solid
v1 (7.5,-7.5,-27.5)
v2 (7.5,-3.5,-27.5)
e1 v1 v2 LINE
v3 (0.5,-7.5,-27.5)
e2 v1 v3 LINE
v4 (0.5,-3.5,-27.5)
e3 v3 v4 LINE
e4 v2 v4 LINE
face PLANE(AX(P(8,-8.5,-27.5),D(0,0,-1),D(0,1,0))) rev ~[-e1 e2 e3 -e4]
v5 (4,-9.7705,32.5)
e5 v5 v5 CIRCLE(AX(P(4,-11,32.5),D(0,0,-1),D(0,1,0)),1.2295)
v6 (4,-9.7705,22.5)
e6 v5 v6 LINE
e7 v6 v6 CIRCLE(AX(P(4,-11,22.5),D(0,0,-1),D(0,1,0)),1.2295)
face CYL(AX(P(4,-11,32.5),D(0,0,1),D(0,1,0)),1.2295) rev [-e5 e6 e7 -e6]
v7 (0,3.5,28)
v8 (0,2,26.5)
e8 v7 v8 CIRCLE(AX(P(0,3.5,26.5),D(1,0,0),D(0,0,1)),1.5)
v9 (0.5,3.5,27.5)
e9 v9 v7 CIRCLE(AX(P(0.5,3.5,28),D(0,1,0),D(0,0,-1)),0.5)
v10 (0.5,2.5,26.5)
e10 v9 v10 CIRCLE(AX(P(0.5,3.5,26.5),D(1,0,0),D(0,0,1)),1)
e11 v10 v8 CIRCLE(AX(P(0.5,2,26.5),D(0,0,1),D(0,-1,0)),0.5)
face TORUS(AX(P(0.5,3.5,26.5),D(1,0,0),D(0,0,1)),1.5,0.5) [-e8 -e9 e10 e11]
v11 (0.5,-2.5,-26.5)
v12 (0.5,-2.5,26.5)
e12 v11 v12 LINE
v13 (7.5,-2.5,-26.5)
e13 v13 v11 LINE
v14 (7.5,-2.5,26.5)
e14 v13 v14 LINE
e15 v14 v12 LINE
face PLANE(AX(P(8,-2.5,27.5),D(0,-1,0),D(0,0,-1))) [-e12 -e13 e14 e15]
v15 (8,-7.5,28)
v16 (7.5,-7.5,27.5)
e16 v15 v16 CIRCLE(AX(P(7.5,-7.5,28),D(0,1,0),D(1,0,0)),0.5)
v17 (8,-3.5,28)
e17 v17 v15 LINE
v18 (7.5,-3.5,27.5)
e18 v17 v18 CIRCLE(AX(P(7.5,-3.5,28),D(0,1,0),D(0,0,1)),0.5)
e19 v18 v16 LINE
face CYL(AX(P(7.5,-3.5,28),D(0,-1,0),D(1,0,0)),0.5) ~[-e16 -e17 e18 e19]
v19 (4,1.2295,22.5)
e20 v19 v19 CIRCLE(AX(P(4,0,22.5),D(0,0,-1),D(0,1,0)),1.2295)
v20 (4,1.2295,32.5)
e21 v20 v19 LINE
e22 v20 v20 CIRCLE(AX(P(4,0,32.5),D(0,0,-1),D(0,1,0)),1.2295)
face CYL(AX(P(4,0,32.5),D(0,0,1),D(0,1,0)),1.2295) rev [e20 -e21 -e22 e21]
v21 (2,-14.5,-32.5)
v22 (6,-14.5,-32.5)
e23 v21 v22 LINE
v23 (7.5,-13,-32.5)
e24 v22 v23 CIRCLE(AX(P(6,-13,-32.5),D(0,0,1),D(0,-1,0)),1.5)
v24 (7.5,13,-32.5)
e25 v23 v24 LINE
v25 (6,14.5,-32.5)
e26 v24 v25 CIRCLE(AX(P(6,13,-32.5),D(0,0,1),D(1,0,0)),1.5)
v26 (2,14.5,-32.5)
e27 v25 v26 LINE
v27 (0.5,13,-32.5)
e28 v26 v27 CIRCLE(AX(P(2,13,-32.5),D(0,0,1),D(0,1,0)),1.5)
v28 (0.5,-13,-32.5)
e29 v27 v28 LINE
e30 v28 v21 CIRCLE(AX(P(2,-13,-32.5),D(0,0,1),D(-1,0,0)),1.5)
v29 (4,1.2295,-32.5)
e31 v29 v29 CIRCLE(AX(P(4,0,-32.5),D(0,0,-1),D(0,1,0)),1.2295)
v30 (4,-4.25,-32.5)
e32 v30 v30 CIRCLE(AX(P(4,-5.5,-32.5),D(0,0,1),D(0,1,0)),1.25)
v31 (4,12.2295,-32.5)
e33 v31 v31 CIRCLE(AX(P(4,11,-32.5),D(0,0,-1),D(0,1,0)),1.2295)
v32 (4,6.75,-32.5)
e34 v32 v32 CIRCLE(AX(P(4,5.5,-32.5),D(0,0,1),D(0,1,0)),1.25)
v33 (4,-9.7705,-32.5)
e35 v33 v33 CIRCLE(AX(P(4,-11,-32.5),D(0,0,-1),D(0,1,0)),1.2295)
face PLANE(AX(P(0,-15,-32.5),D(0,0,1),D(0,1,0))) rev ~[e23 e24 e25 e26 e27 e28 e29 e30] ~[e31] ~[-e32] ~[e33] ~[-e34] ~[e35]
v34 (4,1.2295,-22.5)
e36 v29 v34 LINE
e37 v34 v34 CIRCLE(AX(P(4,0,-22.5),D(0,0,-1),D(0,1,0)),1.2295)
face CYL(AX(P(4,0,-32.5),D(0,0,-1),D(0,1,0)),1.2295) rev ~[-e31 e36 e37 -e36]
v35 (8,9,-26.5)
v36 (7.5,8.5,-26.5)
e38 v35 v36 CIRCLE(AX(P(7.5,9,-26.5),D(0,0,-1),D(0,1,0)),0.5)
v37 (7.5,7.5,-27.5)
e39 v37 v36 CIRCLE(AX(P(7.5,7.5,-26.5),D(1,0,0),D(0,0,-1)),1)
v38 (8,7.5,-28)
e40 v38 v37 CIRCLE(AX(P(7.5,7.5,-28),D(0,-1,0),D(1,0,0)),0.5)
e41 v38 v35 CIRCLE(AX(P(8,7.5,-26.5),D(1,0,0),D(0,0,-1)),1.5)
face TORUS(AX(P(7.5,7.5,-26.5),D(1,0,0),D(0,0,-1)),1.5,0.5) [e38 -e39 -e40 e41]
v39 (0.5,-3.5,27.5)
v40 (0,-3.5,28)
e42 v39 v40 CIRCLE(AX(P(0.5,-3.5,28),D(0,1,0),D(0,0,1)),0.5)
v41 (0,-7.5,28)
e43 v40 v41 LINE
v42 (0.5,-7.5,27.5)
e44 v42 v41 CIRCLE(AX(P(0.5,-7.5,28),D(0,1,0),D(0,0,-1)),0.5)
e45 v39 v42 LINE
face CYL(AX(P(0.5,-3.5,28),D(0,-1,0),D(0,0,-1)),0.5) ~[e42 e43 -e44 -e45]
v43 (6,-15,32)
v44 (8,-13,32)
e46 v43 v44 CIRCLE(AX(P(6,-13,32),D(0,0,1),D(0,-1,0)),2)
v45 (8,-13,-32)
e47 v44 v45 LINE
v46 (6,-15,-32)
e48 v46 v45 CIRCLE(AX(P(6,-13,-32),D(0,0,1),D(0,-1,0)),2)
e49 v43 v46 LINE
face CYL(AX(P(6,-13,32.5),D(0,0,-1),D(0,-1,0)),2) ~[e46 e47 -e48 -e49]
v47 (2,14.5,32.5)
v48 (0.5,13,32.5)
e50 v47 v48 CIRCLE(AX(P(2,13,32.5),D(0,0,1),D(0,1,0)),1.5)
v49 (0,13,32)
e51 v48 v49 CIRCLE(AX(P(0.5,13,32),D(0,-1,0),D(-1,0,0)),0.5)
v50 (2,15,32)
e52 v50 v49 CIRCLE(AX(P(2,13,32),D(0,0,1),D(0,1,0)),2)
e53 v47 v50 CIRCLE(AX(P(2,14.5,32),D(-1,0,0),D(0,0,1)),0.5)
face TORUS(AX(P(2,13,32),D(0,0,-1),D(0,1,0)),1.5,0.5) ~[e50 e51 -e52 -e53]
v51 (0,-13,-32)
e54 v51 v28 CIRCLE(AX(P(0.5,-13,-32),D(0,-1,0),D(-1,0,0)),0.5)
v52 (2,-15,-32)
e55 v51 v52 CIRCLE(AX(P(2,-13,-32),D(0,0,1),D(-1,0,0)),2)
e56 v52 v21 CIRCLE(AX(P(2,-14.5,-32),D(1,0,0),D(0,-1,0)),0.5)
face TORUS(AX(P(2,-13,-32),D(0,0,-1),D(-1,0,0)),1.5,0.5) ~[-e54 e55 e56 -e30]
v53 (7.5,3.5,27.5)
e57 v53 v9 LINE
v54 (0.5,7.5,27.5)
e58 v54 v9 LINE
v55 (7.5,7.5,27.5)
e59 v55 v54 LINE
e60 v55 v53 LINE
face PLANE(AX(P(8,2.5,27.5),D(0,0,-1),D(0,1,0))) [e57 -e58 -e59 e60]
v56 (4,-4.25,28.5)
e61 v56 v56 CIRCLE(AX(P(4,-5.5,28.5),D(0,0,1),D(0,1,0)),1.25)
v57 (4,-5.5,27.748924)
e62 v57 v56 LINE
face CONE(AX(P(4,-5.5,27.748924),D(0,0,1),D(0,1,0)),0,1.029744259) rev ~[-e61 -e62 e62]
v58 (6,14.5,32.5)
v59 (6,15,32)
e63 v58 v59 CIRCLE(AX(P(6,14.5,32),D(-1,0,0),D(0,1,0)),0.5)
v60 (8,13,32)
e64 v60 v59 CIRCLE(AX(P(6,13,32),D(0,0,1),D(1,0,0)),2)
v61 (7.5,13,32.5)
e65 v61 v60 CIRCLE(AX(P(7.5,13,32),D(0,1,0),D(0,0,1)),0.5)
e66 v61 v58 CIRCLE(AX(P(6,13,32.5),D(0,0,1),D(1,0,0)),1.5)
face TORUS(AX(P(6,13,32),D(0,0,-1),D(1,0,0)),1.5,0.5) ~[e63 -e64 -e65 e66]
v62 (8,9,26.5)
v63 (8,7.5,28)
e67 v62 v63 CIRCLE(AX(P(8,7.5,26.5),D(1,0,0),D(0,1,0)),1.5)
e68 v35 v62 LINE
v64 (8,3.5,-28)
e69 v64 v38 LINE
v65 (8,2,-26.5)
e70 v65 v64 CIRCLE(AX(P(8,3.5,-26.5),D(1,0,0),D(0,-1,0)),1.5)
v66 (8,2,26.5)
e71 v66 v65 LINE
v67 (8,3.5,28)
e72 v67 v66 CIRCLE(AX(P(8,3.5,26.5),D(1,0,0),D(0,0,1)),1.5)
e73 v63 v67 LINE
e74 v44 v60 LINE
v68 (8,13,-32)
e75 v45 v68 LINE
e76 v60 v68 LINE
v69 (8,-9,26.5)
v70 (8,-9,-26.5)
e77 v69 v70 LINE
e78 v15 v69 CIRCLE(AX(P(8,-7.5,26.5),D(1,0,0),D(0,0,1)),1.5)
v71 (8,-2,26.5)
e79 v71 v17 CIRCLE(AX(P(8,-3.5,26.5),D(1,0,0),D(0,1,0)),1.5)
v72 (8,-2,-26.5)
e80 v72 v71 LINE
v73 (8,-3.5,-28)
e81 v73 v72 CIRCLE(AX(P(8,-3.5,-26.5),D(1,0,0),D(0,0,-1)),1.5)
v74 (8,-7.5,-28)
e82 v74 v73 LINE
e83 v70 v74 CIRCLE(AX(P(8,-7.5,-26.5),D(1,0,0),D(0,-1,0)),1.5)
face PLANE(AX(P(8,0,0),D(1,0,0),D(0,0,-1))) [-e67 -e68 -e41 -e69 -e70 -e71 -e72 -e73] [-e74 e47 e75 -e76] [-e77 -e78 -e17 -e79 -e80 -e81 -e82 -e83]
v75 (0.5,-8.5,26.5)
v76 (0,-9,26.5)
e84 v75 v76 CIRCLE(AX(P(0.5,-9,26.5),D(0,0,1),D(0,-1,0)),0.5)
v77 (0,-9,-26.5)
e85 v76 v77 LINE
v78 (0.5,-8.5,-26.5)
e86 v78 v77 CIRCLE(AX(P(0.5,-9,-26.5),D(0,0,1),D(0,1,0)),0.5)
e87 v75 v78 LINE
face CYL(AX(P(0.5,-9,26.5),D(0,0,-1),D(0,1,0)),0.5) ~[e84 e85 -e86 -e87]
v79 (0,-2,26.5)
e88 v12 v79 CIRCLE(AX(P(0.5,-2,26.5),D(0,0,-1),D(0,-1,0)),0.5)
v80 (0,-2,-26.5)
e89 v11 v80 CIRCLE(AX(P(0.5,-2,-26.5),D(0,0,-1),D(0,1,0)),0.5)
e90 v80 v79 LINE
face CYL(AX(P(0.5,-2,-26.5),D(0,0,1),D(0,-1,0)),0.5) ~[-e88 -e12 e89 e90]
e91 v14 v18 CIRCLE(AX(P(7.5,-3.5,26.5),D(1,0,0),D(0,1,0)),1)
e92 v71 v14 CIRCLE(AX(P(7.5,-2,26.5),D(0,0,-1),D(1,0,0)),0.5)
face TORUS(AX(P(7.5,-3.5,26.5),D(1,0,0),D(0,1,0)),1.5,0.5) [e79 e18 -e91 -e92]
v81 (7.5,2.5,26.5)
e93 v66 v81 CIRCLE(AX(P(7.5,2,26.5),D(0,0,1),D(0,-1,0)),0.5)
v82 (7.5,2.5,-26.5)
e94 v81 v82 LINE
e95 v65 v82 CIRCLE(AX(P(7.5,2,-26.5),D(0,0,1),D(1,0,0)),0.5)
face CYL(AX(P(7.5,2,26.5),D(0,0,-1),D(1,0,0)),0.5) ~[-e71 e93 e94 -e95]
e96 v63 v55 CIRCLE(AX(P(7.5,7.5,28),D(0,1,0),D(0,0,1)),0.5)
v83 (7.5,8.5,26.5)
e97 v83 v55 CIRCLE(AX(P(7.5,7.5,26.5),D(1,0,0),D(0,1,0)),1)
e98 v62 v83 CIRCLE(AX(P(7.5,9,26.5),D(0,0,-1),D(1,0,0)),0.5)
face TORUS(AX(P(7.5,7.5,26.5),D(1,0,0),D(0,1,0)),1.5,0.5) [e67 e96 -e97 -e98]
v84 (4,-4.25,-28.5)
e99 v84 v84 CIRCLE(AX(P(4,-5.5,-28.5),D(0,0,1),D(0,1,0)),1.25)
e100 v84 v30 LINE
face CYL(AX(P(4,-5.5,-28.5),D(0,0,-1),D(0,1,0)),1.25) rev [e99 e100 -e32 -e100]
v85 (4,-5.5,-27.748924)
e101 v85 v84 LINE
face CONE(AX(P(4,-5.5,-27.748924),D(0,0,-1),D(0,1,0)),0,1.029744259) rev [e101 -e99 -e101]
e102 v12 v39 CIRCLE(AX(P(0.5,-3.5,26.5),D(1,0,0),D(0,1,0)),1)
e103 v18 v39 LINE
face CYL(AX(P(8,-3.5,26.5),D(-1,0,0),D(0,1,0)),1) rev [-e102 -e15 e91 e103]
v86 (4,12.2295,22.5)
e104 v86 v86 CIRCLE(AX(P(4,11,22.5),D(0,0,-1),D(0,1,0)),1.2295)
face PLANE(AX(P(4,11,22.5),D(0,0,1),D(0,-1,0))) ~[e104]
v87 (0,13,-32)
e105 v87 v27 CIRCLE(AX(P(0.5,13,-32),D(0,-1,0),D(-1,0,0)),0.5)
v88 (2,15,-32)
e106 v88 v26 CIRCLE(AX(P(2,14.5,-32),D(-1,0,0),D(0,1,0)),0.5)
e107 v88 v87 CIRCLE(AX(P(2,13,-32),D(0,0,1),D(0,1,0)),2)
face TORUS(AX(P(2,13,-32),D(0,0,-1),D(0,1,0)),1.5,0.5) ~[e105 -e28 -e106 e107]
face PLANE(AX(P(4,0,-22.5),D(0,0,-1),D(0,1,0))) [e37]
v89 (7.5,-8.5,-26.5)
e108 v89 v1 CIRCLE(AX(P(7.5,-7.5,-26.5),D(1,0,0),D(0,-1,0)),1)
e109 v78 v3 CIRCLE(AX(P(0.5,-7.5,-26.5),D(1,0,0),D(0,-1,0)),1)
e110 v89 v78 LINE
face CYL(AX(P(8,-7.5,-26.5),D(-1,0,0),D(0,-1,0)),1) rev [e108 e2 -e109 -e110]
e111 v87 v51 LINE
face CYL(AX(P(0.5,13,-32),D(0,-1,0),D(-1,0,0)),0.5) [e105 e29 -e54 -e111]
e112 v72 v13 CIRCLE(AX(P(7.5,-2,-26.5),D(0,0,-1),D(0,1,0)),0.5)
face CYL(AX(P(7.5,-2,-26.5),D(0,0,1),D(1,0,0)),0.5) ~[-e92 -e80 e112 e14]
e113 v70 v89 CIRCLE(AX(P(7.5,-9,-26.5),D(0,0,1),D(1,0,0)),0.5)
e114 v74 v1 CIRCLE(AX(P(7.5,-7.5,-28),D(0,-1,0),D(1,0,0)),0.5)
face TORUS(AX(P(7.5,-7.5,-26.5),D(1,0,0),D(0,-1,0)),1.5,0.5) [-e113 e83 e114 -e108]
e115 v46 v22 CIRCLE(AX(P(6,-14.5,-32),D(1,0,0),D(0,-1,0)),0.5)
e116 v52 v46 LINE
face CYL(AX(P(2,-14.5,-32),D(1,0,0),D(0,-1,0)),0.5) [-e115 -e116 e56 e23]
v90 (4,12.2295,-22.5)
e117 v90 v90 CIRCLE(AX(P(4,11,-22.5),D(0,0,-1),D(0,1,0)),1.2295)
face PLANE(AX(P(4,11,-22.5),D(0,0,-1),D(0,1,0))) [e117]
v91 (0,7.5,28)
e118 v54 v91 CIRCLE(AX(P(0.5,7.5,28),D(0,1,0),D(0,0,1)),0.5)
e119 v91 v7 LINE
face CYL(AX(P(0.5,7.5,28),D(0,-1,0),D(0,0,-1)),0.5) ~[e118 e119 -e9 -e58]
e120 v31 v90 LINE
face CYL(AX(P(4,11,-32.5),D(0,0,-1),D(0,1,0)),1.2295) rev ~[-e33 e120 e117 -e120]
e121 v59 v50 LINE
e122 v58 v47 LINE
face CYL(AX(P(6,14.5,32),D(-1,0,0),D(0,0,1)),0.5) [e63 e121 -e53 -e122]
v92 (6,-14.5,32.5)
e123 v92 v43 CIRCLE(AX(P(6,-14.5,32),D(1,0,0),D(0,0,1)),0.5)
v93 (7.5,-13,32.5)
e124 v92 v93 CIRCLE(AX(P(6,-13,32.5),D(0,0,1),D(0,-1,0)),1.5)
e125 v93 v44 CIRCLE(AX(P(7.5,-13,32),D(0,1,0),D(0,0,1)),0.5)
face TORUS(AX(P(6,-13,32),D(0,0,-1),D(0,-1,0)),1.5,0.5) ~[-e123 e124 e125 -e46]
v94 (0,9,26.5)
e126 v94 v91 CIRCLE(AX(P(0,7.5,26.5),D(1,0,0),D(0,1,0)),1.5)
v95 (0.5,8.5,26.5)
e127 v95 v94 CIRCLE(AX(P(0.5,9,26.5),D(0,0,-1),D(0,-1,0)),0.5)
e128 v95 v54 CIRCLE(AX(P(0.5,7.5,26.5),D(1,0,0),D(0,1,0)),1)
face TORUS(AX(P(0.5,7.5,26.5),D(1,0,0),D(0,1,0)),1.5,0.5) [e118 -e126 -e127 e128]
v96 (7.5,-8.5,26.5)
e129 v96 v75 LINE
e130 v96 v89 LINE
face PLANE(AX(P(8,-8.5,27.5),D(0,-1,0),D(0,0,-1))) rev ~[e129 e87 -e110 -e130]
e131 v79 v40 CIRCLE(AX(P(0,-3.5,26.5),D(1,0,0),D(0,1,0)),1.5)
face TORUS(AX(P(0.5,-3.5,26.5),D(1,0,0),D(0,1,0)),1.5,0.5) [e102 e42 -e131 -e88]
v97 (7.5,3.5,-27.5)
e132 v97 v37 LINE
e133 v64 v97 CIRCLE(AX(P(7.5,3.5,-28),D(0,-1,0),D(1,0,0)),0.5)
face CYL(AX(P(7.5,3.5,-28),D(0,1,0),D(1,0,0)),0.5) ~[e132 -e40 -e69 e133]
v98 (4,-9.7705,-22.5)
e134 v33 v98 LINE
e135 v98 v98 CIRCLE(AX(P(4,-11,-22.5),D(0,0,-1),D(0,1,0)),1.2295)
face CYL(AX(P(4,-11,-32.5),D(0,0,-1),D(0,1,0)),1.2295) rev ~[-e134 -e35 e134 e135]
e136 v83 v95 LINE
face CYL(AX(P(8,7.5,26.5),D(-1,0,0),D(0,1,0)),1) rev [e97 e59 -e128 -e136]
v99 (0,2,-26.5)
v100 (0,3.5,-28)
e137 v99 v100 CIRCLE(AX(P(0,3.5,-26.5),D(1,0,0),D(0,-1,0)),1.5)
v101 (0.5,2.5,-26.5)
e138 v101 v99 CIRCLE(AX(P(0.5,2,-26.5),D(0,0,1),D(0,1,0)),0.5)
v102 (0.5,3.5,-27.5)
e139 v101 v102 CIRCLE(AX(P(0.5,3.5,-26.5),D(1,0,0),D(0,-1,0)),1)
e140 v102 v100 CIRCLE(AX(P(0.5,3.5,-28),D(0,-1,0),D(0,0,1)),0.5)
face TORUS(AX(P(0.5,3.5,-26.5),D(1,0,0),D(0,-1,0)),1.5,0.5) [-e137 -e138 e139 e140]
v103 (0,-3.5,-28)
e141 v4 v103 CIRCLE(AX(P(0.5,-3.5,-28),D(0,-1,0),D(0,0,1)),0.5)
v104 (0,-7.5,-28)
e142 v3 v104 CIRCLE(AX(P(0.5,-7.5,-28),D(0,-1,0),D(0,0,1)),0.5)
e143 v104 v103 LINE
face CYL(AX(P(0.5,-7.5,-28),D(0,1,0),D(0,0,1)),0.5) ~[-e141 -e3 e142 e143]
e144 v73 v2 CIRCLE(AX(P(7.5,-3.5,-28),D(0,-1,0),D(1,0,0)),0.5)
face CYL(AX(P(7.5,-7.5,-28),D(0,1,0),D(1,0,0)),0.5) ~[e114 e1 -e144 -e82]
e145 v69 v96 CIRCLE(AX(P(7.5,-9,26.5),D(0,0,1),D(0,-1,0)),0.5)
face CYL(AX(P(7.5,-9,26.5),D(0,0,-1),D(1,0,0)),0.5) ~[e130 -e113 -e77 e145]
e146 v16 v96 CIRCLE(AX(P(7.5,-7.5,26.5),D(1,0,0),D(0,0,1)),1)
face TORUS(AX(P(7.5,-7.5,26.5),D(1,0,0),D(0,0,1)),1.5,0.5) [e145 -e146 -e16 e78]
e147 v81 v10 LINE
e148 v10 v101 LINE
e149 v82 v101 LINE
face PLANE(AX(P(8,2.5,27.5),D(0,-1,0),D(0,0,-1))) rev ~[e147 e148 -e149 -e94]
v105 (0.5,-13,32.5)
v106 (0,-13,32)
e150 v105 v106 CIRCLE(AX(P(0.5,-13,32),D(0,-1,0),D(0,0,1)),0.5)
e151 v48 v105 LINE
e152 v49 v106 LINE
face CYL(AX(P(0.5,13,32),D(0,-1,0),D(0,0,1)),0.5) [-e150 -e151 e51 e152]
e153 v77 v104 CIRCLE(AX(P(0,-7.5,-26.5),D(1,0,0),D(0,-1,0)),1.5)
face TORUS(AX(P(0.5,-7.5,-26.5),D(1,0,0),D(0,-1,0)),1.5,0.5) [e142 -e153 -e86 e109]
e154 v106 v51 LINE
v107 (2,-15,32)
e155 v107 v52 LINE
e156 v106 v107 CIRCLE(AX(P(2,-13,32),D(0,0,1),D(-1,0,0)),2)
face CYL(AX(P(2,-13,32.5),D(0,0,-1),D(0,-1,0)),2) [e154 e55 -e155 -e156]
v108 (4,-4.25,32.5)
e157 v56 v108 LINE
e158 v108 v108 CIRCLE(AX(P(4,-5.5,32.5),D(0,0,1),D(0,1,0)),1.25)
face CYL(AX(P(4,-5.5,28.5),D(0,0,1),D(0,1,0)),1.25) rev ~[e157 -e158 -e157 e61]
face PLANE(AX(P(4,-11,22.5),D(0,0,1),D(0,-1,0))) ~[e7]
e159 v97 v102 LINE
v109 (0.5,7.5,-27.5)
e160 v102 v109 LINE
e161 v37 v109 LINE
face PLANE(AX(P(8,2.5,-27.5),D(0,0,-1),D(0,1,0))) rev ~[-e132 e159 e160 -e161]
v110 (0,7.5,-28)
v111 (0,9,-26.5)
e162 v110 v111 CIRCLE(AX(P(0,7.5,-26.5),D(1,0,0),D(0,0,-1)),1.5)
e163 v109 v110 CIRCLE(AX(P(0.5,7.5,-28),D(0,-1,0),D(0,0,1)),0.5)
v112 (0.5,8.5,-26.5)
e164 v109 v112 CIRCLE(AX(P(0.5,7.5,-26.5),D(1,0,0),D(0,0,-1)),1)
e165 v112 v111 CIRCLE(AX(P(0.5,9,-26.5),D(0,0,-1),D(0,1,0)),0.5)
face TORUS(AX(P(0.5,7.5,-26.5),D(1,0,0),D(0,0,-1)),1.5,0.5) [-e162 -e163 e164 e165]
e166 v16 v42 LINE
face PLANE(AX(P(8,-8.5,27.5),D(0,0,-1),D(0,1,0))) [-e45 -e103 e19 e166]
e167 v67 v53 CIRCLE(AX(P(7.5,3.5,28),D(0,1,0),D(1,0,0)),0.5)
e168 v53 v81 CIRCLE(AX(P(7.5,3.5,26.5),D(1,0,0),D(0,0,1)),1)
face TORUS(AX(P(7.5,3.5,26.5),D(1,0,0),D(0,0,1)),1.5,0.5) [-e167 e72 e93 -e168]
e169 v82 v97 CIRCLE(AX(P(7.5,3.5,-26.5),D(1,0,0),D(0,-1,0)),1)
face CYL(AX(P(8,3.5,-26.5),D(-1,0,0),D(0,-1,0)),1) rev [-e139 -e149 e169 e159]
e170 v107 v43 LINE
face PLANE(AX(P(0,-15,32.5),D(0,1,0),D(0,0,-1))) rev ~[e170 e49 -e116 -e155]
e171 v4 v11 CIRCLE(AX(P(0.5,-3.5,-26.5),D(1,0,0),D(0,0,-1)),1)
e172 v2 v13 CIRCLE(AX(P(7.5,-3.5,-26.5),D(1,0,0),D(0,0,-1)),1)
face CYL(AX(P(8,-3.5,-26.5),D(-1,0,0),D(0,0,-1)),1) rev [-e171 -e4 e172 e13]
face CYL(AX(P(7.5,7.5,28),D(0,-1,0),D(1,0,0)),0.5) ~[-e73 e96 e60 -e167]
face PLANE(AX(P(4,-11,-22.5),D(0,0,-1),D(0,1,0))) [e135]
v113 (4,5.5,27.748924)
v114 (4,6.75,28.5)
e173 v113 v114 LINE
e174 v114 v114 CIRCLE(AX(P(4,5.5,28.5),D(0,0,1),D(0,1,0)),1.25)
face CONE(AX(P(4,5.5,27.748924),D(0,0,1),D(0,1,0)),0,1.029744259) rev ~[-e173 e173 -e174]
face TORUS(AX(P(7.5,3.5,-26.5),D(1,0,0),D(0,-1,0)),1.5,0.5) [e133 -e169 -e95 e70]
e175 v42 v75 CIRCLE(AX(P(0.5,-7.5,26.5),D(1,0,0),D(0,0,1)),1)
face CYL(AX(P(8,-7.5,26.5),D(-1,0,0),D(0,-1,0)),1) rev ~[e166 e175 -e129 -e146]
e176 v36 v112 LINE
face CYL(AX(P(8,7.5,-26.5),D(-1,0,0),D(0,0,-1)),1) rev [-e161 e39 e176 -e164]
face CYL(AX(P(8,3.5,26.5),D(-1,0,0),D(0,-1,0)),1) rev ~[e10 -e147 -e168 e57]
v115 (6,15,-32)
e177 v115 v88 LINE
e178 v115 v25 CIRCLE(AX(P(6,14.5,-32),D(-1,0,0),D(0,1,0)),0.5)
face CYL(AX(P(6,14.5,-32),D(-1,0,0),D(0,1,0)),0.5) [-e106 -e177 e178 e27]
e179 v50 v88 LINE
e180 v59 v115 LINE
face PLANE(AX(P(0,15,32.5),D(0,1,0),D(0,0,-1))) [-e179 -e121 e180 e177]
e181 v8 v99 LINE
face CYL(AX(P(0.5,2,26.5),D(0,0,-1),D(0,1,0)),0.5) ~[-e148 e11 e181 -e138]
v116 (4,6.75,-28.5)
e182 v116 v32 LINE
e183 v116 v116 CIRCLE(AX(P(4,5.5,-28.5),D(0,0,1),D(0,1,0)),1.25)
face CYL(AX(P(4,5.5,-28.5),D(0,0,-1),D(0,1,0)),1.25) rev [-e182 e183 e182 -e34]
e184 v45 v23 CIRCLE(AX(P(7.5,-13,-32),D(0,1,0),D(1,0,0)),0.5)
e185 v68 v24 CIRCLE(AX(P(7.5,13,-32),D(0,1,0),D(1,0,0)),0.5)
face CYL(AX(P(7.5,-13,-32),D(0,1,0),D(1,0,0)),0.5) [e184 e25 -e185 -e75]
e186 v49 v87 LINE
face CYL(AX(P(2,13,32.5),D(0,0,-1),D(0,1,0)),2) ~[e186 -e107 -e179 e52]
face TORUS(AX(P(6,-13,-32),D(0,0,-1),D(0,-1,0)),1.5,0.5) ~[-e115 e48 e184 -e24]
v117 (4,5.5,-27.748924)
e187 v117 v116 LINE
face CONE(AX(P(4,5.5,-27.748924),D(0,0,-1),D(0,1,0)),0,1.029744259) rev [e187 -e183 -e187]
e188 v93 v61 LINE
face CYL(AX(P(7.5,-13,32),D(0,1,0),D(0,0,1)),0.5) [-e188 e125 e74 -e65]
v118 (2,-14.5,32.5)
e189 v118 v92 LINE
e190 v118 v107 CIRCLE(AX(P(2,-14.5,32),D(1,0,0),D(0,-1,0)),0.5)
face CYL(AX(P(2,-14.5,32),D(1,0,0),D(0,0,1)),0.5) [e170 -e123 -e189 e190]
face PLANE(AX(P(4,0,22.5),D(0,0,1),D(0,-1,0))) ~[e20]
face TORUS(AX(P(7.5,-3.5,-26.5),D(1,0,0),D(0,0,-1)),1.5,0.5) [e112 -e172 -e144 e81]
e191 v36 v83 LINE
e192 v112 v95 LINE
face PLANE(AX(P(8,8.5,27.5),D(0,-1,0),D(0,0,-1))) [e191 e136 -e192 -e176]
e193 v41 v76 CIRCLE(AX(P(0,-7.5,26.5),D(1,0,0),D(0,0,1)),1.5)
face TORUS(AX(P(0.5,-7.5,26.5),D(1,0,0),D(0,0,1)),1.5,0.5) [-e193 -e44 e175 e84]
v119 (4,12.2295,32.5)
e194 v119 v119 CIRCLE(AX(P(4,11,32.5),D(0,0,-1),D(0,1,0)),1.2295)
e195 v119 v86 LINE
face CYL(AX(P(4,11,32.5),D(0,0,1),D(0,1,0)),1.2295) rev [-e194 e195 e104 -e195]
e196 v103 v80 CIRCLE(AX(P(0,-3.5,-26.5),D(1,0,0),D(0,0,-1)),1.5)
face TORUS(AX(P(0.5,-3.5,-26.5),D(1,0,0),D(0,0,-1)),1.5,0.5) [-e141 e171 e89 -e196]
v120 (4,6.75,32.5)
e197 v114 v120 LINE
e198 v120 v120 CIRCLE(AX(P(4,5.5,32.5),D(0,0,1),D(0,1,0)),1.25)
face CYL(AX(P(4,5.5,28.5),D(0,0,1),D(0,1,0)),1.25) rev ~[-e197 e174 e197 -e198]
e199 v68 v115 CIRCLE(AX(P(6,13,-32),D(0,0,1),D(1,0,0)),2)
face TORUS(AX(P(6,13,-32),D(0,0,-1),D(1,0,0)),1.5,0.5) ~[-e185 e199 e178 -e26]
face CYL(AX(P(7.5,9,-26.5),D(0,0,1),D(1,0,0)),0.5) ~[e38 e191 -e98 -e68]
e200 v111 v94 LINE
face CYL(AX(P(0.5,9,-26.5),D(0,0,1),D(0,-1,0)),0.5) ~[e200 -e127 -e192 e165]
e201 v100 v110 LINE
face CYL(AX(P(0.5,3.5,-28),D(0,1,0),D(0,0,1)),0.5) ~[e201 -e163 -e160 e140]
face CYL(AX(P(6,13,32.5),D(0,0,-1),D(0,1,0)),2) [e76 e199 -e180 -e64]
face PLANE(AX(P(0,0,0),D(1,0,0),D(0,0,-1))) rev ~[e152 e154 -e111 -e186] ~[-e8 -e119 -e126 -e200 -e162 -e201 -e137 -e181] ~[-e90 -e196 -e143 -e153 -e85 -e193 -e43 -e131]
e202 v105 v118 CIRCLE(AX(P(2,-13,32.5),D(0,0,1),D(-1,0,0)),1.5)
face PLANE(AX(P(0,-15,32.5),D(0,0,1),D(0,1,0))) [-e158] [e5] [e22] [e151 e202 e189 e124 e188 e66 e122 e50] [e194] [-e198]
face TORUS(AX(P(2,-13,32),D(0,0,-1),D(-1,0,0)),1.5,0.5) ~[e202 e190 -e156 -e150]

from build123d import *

# Parameters (mm, degrees)
SKETCH1_W                      = 65
SKETCH1_H                      = 30
BOSS_EXTRUDE1_DEPTH            = 8
FILLET1_R                      = 2
FILLET2_R                      = 0.5
SKETCH2_R                      = 1.2295
CUT_EXTRUDE1_DEPTH             = 10
SKETCH3_W                      = 55
SKETCH3_H                      = 6
CUT_EXTRUDE2_DEPTH             = 10
FILLET3_R                      = 1
FILLET4_R                      = 0.5
F_2_5MM_DOWEL_HOLE1_AT_2_COUNT = 2
F_2_5MM_DOWEL_HOLE1_AT_2_PITCH = 11


with BuildPart() as part:
    # Sketch1 → Boss-Extrude1 (new body)
    with BuildSketch(Plane(origin=(0, 0, 0), x_dir=(0, 0, -1), z_dir=(1, 0, 0))):
        Rectangle(SKETCH1_W, SKETCH1_H)
    extrude(amount=BOSS_EXTRUDE1_DEPTH)

    # Fillet1
    fillet1_edges = [part.edges().sort_by_distance(p)[0] for p in [
        (8, -15, 0),
        (0, -15, 0),
        (0, 15, 0),
        (8, 15, 0),
    ]]
    fillet(fillet1_edges, radius=FILLET1_R)

    # Fillet2
    fillet2_edges = [part.edges().sort_by_distance(p)[0] for p in [
        (8, 0, -32.5),
        (8, 0, 32.5),
        (0, 0, -32.5),
        (4, 15, -32.5),
        (4, -15, -32.5),
        (7.414213562, 14.414213562, -32.5),
        (0.585786438, 14.414213562, -32.5),
        (0.585786438, -14.414213562, -32.5),
        (7.414213562, -14.414213562, -32.5),
        (4, -15, 32.5),
        (0, 0, 32.5),
        (4, 15, 32.5),
        (7.414213562, 14.414213562, 32.5),
        (0.585786438, 14.414213562, 32.5),
        (0.585786438, -14.414213562, 32.5),
        (7.414213562, -14.414213562, 32.5),
    ]]
    fillet(fillet2_edges, radius=FILLET2_R)

    # Sketch2 → Cut-Extrude1 (cut)
    with BuildSketch(Plane(origin=(0, 0, -32.5), x_dir=(-1, 0, 0), z_dir=(0, 0, -1))):
        with Locations(Location((-4, 0, 0), (0, 0, 90))):
            Circle(SKETCH2_R)
        with Locations(Location((-4, 11, 0), (0, 0, 90))):
            Circle(SKETCH2_R)
        with Locations(Location((-4, -11, 0), (0, 0, 90))):
            Circle(SKETCH2_R)
    cut_extrude1 = extrude(amount=-CUT_EXTRUDE1_DEPTH, mode=Mode.SUBTRACT)

    # Sketch3 → Cut-Extrude2 (cut)
    with BuildSketch(Plane(origin=(8, 0, 0), x_dir=(0, 0, -1), z_dir=(1, 0, 0))):
        with Locations((0, 5.5)):
            Rectangle(SKETCH3_W, SKETCH3_H)
        with Locations((0, -5.5)):
            Rectangle(SKETCH3_W, SKETCH3_H)
    extrude(amount=-CUT_EXTRUDE2_DEPTH, mode=Mode.SUBTRACT)

    # Fillet3
    fillet3_edges = [part.edges().sort_by_distance(p)[0] for p in [
        (4, 2.5, 27.5),
        (4, 8.5, 27.5),
        (4, 8.5, -27.5),
        (4, 2.5, -27.5),
        (4, -8.5, 27.5),
        (4, -2.5, 27.5),
        (4, -2.5, -27.5),
        (4, -8.5, -27.5),
    ]]
    fillet(fillet3_edges, radius=FILLET3_R)

    # Fillet4
    fillet4_edges = [part.edges().sort_by_distance(p)[0] for p in [
        (8, -5.5, -27.5),
        (0, -5.5, -27.5),
        (8, -8.5, 0),
        (0, -8.5, 0),
        (8, -2.5, 0),
        (0, -2.5, 0),
        (8, -5.5, 27.5),
        (0, -5.5, 27.5),
        (8, 5.5, -27.5),
        (0, 5.5, -27.5),
        (8, 2.5, 0),
        (0, 2.5, 0),
        (8, 8.5, 0),
        (0, 8.5, 0),
        (8, 5.5, 27.5),
        (0, 5.5, 27.5),
        (8, -8.207106781, -27.207106781),
        (0, -8.207106781, -27.207106781),
        (8, -2.792893219, -27.207106781),
        (0, -2.792893219, -27.207106781),
        (8, -8.207106781, 27.207106781),
        (0, -8.207106781, 27.207106781),
        (8, -2.792893219, 27.207106781),
        (0, -2.792893219, 27.207106781),
        (8, 2.792893219, -27.207106781),
        (0, 2.792893219, -27.207106781),
        (8, 8.207106781, -27.207106781),
        (0, 8.207106781, -27.207106781),
        (8, 2.792893219, 27.207106781),
        (0, 2.792893219, 27.207106781),
        (8, 8.207106781, 27.207106781),
        (0, 8.207106781, 27.207106781),
    ]]
    fillet(fillet4_edges, radius=FILLET4_R)

    # Sketch6 → Ø2.5mm Dowel Hole1 (revolve, cut)
    with BuildSketch(Plane(origin=(4, 5.5, -32.5), x_dir=(0, 1, 0), z_dir=(1, 0, 0))):
        Polygon((0, 0), (0, 4.751075774), (1.25, 4), (1.25, 0), align=None)
    f_2_5mm_dowel_hole1 = revolve(axis=Axis((4, 5.5, -38.85), (0, 0, 1)), mode=Mode.SUBTRACT)

    # Ø2.5mm Dowel Hole1 at 2: Ø2.5mm Dowel Hole1 ×2
    with Locations(*[(0, -i * F_2_5MM_DOWEL_HOLE1_AT_2_PITCH, 0) for i in range(1, F_2_5MM_DOWEL_HOLE1_AT_2_COUNT)]):
        add(f_2_5mm_dowel_hole1, mode=Mode.SUBTRACT)

    # Mirror1: Cut-Extrude1, Ø2.5mm Dowel Hole1 across plane
    add(cut_extrude1.mirror(Plane.XY), mode=Mode.SUBTRACT)
    add(f_2_5mm_dowel_hole1.mirror(Plane.XY), mode=Mode.SUBTRACT)

    # Mirror1 copy 1 sketch → Mirror1 copy 1 (revolve, cut)
    with BuildSketch(Plane(origin=(4, -5.5, 32.5), x_dir=(0, 1, 0), z_dir=(1, 0, 0))):
        Polygon((0, 0), (0, -4.751075774), (1.25, -4), (1.25, 0), align=None)
    revolve(axis=Axis((4, -5.5, 38.85), (0, 0, 1)), mode=Mode.SUBTRACT)


solid = part.part
